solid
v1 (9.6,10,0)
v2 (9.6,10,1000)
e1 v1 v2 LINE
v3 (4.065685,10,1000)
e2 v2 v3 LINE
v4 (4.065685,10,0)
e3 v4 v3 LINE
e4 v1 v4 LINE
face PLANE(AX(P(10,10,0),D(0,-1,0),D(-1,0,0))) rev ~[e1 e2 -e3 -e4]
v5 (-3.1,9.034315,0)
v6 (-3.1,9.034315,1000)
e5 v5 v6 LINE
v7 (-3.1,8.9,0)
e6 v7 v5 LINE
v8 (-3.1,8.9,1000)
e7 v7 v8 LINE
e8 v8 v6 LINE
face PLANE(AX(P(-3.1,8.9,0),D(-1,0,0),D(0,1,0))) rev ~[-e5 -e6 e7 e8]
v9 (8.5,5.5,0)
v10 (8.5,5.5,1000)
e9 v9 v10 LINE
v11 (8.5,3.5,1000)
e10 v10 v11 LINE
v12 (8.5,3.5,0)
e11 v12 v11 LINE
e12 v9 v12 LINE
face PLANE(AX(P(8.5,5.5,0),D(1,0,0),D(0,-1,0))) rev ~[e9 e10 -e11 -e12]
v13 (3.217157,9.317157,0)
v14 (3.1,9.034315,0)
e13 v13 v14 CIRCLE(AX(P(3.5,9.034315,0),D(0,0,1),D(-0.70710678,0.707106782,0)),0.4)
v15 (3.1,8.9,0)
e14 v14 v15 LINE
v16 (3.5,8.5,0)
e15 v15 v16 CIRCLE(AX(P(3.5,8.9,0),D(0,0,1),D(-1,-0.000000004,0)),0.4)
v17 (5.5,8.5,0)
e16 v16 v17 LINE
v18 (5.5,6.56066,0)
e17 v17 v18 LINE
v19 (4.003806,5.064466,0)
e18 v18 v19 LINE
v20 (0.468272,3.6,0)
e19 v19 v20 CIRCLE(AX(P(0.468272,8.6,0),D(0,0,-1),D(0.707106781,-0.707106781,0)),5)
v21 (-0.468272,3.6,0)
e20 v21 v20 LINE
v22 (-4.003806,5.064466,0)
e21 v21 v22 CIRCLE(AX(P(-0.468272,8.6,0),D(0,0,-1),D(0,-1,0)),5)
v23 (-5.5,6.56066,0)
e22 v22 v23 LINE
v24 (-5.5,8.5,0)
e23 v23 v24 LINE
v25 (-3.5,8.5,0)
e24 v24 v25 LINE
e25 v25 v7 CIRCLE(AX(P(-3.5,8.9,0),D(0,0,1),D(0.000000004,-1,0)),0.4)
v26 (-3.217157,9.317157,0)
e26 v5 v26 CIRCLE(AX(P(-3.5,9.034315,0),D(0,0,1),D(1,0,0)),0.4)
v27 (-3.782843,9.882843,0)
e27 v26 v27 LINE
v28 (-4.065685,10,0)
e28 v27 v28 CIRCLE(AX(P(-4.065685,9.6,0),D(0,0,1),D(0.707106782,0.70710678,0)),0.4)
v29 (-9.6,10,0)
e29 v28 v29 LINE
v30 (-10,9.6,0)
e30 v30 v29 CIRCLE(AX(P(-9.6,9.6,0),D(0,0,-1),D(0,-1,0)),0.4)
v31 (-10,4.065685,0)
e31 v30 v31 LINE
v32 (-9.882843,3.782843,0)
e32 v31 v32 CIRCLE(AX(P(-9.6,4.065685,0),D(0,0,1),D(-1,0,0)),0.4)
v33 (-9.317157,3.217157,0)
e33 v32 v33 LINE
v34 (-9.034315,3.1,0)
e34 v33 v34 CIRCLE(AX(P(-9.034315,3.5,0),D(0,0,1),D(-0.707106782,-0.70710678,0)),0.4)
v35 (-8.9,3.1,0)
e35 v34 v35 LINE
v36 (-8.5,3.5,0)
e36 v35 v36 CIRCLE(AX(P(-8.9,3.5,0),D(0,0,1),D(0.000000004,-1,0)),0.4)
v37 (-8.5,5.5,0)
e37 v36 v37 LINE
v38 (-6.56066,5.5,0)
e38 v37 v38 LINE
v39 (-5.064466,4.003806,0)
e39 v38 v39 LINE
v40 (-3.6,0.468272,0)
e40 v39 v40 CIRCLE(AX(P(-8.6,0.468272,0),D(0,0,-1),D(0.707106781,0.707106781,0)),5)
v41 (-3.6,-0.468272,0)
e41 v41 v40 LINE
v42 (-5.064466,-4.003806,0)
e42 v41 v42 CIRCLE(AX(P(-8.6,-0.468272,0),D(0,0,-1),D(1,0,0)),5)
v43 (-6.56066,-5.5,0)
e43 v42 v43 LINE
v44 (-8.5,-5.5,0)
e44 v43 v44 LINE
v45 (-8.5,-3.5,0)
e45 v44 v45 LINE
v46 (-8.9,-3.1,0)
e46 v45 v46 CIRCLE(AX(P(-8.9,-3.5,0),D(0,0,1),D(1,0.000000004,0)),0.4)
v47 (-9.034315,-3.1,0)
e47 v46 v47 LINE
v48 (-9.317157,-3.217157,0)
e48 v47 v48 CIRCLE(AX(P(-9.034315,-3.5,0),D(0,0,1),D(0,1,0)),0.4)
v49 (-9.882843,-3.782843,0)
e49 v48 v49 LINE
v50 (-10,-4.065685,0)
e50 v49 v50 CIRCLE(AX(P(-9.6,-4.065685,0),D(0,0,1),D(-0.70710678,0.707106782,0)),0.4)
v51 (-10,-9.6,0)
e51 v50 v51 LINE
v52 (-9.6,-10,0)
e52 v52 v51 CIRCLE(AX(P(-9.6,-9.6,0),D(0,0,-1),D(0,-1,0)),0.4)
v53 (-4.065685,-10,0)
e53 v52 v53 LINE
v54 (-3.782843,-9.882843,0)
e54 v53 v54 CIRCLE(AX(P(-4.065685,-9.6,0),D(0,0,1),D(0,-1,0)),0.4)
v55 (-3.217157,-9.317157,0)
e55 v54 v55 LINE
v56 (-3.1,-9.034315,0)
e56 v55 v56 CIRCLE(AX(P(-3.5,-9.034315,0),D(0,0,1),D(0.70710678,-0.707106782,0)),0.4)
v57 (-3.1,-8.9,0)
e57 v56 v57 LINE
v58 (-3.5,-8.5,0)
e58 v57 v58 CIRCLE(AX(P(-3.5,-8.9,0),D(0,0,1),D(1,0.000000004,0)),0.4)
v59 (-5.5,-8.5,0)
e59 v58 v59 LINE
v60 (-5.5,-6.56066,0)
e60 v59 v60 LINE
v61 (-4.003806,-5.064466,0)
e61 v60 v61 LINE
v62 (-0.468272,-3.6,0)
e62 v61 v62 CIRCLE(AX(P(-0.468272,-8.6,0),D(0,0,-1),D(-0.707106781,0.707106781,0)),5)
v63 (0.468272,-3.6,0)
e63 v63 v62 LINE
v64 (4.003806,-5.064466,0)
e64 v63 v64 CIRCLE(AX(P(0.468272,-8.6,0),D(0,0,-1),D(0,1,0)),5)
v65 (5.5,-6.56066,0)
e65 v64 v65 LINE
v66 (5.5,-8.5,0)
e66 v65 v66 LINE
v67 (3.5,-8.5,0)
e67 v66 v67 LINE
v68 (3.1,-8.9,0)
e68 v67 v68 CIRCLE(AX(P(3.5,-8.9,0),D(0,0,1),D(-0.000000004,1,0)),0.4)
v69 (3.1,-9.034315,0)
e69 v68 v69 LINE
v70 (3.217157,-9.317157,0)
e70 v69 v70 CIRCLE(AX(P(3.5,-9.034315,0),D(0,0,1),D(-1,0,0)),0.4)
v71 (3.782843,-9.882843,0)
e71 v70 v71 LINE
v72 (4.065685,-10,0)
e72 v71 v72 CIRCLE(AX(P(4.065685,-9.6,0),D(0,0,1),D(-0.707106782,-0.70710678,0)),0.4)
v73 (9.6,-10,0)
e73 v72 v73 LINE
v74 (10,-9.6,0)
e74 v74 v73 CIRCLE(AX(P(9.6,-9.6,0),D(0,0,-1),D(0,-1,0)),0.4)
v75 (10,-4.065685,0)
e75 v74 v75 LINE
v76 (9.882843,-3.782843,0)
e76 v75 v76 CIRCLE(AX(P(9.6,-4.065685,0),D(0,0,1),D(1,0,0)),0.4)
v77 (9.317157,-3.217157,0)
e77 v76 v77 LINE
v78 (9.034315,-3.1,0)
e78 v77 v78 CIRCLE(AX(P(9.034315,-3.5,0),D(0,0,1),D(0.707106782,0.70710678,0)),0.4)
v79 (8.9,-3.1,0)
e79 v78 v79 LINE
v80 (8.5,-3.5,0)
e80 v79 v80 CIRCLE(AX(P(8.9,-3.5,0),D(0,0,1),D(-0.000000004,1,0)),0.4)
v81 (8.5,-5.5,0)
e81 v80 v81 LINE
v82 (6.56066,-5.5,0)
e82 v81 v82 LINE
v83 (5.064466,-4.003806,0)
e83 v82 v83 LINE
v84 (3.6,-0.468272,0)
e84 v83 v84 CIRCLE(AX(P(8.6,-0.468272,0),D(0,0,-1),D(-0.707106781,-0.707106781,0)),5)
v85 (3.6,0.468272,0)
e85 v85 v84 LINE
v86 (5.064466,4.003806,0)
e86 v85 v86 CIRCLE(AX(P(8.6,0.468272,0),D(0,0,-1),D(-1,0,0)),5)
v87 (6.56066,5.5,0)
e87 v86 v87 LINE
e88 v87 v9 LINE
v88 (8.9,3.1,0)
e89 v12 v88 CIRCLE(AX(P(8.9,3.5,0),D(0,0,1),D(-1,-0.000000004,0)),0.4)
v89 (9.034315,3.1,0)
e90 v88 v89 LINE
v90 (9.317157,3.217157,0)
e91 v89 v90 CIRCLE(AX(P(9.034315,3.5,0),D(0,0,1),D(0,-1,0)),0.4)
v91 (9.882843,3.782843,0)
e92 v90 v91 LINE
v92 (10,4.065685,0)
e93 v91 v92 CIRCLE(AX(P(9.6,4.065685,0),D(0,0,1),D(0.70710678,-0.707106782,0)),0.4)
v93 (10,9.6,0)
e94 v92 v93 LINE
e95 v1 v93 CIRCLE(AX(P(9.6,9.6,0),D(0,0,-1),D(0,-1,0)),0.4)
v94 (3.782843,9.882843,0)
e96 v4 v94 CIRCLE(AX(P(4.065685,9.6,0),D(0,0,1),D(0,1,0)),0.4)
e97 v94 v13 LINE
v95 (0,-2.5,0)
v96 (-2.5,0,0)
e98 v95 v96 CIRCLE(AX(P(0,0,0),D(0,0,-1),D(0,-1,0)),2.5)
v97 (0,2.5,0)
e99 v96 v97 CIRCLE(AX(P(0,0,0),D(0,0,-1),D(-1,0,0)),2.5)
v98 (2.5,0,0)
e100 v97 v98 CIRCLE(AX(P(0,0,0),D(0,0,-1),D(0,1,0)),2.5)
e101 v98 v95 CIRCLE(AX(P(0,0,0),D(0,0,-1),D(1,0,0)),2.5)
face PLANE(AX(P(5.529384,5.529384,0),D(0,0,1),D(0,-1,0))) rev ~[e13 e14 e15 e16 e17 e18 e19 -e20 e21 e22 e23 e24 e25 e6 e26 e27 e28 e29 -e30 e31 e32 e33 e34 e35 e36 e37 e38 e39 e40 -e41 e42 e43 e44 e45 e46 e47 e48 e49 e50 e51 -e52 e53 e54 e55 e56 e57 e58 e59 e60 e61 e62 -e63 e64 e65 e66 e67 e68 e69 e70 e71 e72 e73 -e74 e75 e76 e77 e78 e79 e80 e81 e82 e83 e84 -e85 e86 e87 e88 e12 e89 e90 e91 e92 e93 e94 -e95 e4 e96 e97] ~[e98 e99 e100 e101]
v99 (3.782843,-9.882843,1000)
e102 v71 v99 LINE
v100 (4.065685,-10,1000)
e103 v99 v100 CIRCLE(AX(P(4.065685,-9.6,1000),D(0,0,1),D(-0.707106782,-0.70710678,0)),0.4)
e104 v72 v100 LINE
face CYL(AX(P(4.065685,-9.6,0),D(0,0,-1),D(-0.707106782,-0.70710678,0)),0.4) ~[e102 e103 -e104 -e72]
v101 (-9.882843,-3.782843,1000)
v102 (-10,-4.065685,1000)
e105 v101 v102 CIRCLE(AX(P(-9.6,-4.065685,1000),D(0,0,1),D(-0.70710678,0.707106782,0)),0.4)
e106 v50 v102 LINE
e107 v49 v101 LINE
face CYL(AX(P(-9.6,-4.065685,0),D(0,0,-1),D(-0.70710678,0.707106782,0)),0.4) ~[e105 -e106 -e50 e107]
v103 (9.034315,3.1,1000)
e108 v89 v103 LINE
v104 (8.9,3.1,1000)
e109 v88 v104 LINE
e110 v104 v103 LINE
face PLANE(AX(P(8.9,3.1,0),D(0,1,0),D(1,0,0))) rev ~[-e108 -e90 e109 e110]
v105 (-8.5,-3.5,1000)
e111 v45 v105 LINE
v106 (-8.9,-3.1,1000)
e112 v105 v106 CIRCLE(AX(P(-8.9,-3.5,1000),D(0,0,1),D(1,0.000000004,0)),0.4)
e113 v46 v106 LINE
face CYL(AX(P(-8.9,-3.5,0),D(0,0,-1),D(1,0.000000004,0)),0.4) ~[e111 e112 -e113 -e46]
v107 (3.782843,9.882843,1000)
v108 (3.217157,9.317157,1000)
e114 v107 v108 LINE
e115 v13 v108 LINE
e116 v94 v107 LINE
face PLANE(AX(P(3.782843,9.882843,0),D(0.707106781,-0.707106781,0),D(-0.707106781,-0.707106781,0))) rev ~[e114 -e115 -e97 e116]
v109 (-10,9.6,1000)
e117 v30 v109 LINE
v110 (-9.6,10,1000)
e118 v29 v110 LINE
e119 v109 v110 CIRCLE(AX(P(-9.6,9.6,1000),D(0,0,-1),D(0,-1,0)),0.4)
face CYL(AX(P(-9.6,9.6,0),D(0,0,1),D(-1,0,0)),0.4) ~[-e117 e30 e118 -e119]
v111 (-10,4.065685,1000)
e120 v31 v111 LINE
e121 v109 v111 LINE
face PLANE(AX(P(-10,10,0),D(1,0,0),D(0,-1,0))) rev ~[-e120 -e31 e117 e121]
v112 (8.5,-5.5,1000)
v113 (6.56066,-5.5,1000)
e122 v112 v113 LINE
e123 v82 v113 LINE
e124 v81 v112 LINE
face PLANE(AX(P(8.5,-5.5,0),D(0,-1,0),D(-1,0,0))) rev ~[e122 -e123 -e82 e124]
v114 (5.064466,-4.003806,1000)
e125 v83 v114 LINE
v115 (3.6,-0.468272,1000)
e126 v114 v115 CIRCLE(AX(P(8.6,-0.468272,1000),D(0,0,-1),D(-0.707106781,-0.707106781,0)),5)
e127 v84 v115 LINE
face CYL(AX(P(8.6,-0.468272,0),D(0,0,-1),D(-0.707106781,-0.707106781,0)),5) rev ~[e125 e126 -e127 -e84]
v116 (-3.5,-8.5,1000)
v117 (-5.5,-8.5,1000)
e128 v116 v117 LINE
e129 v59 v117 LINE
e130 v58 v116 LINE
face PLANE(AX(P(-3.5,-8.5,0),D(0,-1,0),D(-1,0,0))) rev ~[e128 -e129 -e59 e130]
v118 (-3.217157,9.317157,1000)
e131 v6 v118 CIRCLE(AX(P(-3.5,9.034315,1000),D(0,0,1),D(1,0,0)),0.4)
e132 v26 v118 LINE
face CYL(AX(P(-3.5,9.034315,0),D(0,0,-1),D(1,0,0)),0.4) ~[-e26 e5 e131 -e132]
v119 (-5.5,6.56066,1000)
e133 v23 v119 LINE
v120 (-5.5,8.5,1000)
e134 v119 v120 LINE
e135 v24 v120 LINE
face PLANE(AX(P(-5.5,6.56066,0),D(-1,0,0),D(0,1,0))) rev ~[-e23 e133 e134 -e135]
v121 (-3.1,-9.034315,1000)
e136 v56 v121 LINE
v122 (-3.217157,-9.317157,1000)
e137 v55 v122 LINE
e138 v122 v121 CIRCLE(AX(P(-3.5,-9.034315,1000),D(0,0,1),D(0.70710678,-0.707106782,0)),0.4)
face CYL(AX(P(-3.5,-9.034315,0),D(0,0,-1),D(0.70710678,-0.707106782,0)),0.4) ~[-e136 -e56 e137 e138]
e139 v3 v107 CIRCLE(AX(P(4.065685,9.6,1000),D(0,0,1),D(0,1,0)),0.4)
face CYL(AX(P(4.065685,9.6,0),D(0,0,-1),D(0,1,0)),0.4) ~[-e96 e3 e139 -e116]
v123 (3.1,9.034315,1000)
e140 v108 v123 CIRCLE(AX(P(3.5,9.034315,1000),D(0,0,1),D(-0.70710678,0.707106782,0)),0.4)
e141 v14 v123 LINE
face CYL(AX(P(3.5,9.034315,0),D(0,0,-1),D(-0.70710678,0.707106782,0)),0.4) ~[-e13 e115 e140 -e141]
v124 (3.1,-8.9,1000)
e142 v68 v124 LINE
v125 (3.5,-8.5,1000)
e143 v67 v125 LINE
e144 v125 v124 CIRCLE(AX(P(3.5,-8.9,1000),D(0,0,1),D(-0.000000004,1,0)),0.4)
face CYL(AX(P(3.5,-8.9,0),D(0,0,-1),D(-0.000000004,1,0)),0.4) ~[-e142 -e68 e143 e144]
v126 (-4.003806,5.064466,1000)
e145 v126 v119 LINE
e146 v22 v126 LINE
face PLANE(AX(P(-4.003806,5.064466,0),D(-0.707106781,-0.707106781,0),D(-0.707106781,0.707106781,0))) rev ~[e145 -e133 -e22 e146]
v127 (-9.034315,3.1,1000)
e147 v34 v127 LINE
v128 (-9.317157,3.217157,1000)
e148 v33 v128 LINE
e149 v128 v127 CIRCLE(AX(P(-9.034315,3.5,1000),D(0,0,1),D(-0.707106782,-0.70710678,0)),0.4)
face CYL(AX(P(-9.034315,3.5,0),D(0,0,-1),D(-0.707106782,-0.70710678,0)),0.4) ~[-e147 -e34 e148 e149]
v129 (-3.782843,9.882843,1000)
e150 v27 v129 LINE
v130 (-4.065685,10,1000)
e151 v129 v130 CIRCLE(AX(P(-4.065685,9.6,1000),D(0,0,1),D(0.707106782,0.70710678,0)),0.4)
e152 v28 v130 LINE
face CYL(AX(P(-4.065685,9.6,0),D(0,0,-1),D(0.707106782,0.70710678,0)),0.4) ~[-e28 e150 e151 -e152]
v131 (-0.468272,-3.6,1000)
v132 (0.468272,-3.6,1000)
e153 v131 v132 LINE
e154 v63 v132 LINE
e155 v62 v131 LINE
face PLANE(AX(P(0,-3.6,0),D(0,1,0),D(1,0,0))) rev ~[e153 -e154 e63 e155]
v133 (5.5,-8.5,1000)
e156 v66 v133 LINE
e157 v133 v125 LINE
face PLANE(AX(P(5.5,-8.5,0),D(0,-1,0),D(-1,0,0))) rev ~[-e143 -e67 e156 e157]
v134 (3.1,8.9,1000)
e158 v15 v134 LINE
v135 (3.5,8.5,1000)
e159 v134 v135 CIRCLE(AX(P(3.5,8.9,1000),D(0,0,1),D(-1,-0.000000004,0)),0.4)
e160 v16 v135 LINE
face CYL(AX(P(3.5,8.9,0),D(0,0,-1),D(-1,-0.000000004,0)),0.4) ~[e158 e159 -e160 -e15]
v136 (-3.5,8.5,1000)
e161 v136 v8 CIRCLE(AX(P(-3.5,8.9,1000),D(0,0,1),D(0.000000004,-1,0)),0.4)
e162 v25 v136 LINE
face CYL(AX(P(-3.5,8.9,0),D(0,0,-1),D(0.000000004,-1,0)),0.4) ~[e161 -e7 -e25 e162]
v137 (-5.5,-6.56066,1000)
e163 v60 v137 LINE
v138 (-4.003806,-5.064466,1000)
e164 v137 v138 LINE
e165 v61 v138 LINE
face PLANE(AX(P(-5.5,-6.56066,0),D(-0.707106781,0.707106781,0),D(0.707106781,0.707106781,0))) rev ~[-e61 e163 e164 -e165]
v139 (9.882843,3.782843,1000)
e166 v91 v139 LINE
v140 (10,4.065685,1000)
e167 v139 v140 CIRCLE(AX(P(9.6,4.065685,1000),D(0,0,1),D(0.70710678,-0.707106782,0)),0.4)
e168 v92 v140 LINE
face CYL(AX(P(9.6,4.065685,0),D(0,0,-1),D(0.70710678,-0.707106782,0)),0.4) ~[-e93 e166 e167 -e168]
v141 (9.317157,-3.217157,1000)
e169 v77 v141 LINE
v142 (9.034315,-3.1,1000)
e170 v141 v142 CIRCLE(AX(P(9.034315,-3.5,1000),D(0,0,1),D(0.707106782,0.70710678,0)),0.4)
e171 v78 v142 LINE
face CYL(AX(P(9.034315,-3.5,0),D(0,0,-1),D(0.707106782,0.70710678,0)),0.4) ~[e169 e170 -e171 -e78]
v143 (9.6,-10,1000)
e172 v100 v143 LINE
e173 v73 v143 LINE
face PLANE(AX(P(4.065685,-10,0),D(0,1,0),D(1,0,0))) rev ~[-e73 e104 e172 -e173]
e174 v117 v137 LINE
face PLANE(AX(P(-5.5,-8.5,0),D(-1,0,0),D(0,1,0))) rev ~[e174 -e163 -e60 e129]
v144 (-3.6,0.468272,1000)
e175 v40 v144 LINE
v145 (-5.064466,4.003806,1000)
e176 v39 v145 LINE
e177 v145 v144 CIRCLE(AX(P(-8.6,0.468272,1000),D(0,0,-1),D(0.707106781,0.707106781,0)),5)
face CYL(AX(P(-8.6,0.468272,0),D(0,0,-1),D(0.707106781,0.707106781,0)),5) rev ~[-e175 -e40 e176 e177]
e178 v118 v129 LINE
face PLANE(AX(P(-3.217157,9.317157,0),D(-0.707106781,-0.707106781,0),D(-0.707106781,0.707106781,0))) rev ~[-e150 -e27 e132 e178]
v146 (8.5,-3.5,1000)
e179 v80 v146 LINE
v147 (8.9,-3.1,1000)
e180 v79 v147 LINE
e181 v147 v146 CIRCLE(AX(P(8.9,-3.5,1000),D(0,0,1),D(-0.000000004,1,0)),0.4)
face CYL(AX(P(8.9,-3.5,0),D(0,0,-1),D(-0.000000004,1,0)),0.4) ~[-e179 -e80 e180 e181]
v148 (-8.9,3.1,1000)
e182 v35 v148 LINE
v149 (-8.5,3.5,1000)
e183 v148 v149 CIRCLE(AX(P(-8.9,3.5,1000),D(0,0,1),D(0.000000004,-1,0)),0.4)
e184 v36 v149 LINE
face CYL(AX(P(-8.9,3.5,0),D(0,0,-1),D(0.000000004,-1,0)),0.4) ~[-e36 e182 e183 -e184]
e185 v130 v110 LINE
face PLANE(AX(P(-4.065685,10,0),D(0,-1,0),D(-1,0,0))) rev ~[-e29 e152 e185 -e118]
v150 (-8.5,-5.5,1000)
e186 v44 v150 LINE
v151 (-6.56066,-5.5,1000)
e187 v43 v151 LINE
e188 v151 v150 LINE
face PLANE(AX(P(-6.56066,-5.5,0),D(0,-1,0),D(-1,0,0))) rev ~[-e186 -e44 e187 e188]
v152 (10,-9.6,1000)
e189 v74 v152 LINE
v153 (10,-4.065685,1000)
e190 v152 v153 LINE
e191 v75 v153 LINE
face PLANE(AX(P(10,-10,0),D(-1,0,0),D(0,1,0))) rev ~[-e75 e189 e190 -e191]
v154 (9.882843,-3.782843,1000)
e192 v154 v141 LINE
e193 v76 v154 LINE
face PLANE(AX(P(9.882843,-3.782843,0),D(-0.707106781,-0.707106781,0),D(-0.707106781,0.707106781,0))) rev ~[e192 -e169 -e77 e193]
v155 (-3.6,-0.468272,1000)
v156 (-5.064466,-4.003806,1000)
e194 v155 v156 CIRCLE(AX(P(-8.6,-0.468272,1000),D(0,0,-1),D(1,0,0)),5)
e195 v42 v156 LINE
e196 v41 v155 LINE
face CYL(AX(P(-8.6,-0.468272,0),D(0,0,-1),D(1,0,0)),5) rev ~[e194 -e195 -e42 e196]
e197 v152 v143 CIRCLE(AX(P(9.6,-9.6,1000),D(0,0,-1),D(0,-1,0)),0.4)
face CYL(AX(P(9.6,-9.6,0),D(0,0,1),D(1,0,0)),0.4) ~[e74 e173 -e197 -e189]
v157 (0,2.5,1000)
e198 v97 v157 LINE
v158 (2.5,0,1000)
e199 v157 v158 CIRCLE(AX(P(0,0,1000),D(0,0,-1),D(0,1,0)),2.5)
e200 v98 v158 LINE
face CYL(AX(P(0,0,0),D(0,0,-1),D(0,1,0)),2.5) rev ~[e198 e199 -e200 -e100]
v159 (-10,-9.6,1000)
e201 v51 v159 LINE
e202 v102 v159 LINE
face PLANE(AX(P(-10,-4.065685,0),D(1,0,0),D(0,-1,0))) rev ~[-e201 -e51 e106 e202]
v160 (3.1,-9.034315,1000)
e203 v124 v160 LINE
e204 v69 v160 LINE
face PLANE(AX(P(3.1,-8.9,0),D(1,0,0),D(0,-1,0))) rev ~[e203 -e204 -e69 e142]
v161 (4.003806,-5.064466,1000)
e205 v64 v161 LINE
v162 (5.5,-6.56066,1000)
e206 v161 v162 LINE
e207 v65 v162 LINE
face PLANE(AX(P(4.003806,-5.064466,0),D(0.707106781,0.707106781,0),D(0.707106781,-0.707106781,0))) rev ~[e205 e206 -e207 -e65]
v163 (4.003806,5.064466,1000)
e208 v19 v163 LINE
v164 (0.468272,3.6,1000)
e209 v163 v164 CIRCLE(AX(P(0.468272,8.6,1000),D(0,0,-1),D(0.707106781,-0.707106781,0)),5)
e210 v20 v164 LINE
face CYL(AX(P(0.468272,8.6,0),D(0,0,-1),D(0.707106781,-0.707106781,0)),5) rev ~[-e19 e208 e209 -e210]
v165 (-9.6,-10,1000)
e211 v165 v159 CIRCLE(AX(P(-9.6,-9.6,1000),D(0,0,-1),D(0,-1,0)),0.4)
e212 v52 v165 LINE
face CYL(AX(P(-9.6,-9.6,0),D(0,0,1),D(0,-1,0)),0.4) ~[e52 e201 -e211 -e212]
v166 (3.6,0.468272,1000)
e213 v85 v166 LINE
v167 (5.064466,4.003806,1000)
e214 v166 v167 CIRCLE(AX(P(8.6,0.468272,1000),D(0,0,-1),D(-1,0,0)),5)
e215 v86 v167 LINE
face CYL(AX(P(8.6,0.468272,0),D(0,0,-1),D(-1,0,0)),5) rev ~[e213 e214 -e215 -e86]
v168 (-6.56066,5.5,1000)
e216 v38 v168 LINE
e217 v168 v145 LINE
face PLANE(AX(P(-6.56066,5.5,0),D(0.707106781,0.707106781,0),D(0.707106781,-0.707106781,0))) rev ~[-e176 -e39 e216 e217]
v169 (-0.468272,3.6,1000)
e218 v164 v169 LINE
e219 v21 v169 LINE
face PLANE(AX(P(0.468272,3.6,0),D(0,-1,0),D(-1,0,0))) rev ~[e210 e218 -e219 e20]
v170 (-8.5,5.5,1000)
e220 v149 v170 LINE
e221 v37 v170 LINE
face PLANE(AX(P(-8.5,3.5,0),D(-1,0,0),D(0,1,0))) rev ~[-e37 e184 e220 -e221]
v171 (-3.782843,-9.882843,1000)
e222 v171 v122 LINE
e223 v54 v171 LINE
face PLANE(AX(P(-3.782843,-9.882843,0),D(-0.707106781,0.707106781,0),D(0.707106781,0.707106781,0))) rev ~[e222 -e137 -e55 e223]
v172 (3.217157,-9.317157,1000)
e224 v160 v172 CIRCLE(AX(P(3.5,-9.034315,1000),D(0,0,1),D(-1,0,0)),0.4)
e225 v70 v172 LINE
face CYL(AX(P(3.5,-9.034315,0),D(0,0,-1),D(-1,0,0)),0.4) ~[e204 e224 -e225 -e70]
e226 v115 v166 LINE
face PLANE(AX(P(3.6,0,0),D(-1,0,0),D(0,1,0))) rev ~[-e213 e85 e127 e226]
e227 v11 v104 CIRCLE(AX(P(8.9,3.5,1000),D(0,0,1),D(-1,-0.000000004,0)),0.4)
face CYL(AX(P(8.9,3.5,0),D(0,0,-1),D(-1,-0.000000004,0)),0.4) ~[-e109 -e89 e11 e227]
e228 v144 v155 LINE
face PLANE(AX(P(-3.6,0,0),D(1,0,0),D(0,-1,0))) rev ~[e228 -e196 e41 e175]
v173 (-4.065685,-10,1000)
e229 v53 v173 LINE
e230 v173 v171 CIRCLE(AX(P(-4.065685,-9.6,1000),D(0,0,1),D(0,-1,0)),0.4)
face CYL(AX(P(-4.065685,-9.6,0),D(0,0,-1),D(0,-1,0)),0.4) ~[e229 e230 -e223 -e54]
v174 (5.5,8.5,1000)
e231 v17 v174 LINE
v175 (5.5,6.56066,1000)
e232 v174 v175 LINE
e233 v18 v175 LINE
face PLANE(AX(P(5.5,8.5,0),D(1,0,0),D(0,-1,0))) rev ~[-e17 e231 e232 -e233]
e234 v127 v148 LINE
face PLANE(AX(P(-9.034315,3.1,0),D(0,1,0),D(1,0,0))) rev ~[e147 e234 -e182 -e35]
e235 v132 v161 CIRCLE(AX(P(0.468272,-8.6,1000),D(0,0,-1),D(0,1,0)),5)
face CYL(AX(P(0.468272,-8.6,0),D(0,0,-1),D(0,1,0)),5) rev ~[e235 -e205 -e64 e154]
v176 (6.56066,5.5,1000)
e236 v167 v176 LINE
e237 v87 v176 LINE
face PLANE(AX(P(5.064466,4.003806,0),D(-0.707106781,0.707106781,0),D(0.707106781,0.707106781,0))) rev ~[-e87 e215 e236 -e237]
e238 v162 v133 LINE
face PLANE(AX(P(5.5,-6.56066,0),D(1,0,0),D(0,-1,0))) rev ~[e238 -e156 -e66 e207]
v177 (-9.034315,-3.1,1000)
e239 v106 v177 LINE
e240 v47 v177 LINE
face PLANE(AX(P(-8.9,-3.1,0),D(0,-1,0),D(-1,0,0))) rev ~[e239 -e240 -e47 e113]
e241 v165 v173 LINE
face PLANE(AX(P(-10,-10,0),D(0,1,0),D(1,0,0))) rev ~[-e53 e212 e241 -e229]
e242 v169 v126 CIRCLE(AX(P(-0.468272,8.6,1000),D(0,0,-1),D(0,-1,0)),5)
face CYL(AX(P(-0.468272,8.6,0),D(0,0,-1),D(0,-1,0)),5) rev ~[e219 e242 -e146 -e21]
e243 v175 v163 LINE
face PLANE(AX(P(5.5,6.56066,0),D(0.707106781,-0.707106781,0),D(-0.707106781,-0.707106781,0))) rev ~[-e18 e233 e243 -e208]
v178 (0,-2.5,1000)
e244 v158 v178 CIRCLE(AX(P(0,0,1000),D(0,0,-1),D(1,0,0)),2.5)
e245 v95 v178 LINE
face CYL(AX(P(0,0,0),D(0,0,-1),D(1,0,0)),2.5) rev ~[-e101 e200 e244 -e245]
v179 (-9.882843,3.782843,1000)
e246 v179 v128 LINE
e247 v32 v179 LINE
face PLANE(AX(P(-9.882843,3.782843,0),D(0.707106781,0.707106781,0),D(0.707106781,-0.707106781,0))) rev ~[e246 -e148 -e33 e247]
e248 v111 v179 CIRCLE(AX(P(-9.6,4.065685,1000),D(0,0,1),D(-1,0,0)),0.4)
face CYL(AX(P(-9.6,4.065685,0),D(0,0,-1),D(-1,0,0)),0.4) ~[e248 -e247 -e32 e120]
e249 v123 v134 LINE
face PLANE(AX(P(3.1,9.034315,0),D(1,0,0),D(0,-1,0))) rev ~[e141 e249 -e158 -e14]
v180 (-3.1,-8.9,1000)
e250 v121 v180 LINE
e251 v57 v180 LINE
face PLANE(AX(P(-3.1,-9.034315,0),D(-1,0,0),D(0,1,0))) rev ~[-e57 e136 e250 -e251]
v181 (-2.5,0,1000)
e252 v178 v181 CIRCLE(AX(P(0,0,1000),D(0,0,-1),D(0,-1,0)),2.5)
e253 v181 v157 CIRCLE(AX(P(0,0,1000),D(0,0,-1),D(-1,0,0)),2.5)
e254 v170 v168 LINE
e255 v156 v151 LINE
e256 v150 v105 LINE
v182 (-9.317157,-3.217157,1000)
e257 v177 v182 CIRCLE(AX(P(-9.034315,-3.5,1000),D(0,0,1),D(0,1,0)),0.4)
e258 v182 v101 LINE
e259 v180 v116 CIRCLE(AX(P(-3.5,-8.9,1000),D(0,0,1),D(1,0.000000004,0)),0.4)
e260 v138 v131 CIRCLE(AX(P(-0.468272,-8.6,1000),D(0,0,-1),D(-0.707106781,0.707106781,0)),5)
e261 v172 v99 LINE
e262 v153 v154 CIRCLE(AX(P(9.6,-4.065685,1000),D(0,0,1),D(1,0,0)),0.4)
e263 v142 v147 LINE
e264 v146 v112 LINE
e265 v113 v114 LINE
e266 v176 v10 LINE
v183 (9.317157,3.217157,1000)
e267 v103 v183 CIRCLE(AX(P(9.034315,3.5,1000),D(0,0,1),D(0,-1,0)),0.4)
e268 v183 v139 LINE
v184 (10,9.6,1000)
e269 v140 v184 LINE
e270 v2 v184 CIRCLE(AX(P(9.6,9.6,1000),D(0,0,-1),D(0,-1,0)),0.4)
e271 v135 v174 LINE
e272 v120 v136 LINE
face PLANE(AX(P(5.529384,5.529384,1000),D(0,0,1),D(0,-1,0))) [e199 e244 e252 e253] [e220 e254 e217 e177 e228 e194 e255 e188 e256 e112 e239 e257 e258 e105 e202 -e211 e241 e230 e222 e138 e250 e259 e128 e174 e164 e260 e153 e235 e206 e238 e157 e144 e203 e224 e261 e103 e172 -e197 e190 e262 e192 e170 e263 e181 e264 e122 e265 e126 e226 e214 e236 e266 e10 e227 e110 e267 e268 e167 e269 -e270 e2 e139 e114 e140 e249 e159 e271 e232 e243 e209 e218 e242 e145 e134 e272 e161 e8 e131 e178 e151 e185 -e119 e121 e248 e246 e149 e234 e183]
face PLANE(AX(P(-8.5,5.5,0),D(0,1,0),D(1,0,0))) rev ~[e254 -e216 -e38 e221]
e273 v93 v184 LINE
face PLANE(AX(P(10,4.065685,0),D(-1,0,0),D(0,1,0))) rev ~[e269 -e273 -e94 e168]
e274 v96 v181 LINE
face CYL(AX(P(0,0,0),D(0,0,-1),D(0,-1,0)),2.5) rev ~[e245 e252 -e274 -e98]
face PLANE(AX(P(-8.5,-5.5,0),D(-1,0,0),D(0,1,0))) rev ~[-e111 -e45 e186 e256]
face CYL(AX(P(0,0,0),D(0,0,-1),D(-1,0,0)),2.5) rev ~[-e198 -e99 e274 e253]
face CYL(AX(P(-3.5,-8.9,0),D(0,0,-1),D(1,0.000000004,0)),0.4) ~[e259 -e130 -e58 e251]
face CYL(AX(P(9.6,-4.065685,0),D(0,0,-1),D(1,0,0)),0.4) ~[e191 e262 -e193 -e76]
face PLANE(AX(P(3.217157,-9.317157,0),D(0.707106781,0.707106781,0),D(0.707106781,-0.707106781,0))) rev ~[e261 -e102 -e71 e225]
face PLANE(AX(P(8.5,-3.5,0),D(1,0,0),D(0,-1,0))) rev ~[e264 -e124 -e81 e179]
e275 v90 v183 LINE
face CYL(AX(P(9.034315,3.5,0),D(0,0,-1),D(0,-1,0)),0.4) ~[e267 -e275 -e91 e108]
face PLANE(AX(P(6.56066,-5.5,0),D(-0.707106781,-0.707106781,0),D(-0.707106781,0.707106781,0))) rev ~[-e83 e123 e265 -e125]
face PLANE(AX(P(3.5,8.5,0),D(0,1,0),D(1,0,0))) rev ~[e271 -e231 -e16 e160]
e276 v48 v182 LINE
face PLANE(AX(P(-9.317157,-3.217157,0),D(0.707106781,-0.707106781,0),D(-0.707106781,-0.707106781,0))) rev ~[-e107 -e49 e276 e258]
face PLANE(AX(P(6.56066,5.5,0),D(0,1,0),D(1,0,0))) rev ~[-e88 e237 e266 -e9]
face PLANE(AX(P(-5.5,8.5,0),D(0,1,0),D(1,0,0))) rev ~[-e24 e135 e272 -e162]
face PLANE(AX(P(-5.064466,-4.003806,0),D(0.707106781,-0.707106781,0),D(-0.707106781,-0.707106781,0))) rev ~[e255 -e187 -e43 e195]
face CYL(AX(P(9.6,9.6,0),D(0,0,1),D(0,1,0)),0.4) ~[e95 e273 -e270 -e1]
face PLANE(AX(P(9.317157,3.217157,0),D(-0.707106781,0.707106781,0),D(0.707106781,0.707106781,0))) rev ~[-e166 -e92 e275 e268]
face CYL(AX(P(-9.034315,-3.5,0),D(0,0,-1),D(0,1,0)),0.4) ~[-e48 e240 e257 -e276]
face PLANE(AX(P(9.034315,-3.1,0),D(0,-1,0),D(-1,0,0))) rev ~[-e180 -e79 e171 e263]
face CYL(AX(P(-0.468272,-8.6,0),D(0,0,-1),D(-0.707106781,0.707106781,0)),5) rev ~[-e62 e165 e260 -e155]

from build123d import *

# Parameters (mm, degrees)
RESSALTO_EXTRUS_O1_DEPTH = 1000
PADR_OCIRCULAR1_COUNT    = 4
FILETE1_R                = 0.4


with BuildPart() as part:
    # Esboço1 → Ressalto-extrusão1 (new body)
    with BuildSketch(Plane.XY):
        with BuildLine():
            ThreePointArc((-9.317157288, 3.217157288), (-9.187387948, 3.130448187), (-9.034314575, 3.1))
            Line((-9.034314575, 3.1), (-8.9, 3.1))
            ThreePointArc((-8.9, 3.1), (-8.617157288, 3.217157288), (-8.5, 3.5))
            Line((-8.5, 3.5), (-8.5, 5.5))
            Line((-8.5, 5.5), (-6.560660172, 5.5))
            Line((-6.560660172, 5.5), (-5.064466094, 4.003805922))
            ThreePointArc((-5.064466094, 4.003805922), (-3.980602337, 2.381689178), (-3.6, 0.468272016))
            Line((-3.6, 0.468272016), (-3.6, 0))
            Line((-3.6, 0), (-2.5, 0))
            ThreePointArc((-2.5, 0), (-1.767766953, 1.767766953), (0, 2.5))
            Line((0, 2.5), (0, 3.6))
            Line((0, 3.6), (-0.468272016, 3.6))
            ThreePointArc((-0.468272016, 3.6), (-2.381689178, 3.980602337), (-4.003805922, 5.064466094))
            Line((-4.003805922, 5.064466094), (-5.5, 6.560660172))
            Line((-5.5, 6.560660172), (-5.5, 8.5))
            Line((-5.5, 8.5), (-3.5, 8.5))
            ThreePointArc((-3.5, 8.5), (-3.217157288, 8.617157288), (-3.1, 8.9))
            Line((-3.1, 8.9), (-3.1, 9.034314575))
            ThreePointArc((-3.1, 9.034314575), (-3.130448187, 9.187387948), (-3.217157288, 9.317157288))
            Line((-3.217157288, 9.317157288), (-3.782842712, 9.882842712))
            ThreePointArc((-3.782842712, 9.882842712), (-3.912612052, 9.969551813), (-4.065685425, 10))
            Line((-4.065685425, 10), (-10, 10))
            Line((-10, 10), (-10, 4.065685425))
            ThreePointArc((-10, 4.065685425), (-9.969551813, 3.912612052), (-9.882842712, 3.782842712))
            Line((-9.882842712, 3.782842712), (-9.317157288, 3.217157288))
        make_face()
    ressalto_extrus_o1 = extrude(amount=RESSALTO_EXTRUS_O1_DEPTH)

    # PadrãoCircular1: Ressalto-extrusão1 ×4 about axis
    padr_ocircular1_axis = Axis((0, 0, 0), (0, 0, 1))
    for i in range(1, PADR_OCIRCULAR1_COUNT):
        add(ressalto_extrus_o1.rotate(padr_ocircular1_axis, i * 360 / PADR_OCIRCULAR1_COUNT))

    # Filete1
    filete1_edges = [part.edges().sort_by_distance(p)[0] for p in [
        (10, -10, 500),
        (10, 10, 500),
        (-10, 10, 500),
        (-10, -10, 500),
    ]]
    fillet(filete1_edges, radius=FILETE1_R)


solid = part.part
